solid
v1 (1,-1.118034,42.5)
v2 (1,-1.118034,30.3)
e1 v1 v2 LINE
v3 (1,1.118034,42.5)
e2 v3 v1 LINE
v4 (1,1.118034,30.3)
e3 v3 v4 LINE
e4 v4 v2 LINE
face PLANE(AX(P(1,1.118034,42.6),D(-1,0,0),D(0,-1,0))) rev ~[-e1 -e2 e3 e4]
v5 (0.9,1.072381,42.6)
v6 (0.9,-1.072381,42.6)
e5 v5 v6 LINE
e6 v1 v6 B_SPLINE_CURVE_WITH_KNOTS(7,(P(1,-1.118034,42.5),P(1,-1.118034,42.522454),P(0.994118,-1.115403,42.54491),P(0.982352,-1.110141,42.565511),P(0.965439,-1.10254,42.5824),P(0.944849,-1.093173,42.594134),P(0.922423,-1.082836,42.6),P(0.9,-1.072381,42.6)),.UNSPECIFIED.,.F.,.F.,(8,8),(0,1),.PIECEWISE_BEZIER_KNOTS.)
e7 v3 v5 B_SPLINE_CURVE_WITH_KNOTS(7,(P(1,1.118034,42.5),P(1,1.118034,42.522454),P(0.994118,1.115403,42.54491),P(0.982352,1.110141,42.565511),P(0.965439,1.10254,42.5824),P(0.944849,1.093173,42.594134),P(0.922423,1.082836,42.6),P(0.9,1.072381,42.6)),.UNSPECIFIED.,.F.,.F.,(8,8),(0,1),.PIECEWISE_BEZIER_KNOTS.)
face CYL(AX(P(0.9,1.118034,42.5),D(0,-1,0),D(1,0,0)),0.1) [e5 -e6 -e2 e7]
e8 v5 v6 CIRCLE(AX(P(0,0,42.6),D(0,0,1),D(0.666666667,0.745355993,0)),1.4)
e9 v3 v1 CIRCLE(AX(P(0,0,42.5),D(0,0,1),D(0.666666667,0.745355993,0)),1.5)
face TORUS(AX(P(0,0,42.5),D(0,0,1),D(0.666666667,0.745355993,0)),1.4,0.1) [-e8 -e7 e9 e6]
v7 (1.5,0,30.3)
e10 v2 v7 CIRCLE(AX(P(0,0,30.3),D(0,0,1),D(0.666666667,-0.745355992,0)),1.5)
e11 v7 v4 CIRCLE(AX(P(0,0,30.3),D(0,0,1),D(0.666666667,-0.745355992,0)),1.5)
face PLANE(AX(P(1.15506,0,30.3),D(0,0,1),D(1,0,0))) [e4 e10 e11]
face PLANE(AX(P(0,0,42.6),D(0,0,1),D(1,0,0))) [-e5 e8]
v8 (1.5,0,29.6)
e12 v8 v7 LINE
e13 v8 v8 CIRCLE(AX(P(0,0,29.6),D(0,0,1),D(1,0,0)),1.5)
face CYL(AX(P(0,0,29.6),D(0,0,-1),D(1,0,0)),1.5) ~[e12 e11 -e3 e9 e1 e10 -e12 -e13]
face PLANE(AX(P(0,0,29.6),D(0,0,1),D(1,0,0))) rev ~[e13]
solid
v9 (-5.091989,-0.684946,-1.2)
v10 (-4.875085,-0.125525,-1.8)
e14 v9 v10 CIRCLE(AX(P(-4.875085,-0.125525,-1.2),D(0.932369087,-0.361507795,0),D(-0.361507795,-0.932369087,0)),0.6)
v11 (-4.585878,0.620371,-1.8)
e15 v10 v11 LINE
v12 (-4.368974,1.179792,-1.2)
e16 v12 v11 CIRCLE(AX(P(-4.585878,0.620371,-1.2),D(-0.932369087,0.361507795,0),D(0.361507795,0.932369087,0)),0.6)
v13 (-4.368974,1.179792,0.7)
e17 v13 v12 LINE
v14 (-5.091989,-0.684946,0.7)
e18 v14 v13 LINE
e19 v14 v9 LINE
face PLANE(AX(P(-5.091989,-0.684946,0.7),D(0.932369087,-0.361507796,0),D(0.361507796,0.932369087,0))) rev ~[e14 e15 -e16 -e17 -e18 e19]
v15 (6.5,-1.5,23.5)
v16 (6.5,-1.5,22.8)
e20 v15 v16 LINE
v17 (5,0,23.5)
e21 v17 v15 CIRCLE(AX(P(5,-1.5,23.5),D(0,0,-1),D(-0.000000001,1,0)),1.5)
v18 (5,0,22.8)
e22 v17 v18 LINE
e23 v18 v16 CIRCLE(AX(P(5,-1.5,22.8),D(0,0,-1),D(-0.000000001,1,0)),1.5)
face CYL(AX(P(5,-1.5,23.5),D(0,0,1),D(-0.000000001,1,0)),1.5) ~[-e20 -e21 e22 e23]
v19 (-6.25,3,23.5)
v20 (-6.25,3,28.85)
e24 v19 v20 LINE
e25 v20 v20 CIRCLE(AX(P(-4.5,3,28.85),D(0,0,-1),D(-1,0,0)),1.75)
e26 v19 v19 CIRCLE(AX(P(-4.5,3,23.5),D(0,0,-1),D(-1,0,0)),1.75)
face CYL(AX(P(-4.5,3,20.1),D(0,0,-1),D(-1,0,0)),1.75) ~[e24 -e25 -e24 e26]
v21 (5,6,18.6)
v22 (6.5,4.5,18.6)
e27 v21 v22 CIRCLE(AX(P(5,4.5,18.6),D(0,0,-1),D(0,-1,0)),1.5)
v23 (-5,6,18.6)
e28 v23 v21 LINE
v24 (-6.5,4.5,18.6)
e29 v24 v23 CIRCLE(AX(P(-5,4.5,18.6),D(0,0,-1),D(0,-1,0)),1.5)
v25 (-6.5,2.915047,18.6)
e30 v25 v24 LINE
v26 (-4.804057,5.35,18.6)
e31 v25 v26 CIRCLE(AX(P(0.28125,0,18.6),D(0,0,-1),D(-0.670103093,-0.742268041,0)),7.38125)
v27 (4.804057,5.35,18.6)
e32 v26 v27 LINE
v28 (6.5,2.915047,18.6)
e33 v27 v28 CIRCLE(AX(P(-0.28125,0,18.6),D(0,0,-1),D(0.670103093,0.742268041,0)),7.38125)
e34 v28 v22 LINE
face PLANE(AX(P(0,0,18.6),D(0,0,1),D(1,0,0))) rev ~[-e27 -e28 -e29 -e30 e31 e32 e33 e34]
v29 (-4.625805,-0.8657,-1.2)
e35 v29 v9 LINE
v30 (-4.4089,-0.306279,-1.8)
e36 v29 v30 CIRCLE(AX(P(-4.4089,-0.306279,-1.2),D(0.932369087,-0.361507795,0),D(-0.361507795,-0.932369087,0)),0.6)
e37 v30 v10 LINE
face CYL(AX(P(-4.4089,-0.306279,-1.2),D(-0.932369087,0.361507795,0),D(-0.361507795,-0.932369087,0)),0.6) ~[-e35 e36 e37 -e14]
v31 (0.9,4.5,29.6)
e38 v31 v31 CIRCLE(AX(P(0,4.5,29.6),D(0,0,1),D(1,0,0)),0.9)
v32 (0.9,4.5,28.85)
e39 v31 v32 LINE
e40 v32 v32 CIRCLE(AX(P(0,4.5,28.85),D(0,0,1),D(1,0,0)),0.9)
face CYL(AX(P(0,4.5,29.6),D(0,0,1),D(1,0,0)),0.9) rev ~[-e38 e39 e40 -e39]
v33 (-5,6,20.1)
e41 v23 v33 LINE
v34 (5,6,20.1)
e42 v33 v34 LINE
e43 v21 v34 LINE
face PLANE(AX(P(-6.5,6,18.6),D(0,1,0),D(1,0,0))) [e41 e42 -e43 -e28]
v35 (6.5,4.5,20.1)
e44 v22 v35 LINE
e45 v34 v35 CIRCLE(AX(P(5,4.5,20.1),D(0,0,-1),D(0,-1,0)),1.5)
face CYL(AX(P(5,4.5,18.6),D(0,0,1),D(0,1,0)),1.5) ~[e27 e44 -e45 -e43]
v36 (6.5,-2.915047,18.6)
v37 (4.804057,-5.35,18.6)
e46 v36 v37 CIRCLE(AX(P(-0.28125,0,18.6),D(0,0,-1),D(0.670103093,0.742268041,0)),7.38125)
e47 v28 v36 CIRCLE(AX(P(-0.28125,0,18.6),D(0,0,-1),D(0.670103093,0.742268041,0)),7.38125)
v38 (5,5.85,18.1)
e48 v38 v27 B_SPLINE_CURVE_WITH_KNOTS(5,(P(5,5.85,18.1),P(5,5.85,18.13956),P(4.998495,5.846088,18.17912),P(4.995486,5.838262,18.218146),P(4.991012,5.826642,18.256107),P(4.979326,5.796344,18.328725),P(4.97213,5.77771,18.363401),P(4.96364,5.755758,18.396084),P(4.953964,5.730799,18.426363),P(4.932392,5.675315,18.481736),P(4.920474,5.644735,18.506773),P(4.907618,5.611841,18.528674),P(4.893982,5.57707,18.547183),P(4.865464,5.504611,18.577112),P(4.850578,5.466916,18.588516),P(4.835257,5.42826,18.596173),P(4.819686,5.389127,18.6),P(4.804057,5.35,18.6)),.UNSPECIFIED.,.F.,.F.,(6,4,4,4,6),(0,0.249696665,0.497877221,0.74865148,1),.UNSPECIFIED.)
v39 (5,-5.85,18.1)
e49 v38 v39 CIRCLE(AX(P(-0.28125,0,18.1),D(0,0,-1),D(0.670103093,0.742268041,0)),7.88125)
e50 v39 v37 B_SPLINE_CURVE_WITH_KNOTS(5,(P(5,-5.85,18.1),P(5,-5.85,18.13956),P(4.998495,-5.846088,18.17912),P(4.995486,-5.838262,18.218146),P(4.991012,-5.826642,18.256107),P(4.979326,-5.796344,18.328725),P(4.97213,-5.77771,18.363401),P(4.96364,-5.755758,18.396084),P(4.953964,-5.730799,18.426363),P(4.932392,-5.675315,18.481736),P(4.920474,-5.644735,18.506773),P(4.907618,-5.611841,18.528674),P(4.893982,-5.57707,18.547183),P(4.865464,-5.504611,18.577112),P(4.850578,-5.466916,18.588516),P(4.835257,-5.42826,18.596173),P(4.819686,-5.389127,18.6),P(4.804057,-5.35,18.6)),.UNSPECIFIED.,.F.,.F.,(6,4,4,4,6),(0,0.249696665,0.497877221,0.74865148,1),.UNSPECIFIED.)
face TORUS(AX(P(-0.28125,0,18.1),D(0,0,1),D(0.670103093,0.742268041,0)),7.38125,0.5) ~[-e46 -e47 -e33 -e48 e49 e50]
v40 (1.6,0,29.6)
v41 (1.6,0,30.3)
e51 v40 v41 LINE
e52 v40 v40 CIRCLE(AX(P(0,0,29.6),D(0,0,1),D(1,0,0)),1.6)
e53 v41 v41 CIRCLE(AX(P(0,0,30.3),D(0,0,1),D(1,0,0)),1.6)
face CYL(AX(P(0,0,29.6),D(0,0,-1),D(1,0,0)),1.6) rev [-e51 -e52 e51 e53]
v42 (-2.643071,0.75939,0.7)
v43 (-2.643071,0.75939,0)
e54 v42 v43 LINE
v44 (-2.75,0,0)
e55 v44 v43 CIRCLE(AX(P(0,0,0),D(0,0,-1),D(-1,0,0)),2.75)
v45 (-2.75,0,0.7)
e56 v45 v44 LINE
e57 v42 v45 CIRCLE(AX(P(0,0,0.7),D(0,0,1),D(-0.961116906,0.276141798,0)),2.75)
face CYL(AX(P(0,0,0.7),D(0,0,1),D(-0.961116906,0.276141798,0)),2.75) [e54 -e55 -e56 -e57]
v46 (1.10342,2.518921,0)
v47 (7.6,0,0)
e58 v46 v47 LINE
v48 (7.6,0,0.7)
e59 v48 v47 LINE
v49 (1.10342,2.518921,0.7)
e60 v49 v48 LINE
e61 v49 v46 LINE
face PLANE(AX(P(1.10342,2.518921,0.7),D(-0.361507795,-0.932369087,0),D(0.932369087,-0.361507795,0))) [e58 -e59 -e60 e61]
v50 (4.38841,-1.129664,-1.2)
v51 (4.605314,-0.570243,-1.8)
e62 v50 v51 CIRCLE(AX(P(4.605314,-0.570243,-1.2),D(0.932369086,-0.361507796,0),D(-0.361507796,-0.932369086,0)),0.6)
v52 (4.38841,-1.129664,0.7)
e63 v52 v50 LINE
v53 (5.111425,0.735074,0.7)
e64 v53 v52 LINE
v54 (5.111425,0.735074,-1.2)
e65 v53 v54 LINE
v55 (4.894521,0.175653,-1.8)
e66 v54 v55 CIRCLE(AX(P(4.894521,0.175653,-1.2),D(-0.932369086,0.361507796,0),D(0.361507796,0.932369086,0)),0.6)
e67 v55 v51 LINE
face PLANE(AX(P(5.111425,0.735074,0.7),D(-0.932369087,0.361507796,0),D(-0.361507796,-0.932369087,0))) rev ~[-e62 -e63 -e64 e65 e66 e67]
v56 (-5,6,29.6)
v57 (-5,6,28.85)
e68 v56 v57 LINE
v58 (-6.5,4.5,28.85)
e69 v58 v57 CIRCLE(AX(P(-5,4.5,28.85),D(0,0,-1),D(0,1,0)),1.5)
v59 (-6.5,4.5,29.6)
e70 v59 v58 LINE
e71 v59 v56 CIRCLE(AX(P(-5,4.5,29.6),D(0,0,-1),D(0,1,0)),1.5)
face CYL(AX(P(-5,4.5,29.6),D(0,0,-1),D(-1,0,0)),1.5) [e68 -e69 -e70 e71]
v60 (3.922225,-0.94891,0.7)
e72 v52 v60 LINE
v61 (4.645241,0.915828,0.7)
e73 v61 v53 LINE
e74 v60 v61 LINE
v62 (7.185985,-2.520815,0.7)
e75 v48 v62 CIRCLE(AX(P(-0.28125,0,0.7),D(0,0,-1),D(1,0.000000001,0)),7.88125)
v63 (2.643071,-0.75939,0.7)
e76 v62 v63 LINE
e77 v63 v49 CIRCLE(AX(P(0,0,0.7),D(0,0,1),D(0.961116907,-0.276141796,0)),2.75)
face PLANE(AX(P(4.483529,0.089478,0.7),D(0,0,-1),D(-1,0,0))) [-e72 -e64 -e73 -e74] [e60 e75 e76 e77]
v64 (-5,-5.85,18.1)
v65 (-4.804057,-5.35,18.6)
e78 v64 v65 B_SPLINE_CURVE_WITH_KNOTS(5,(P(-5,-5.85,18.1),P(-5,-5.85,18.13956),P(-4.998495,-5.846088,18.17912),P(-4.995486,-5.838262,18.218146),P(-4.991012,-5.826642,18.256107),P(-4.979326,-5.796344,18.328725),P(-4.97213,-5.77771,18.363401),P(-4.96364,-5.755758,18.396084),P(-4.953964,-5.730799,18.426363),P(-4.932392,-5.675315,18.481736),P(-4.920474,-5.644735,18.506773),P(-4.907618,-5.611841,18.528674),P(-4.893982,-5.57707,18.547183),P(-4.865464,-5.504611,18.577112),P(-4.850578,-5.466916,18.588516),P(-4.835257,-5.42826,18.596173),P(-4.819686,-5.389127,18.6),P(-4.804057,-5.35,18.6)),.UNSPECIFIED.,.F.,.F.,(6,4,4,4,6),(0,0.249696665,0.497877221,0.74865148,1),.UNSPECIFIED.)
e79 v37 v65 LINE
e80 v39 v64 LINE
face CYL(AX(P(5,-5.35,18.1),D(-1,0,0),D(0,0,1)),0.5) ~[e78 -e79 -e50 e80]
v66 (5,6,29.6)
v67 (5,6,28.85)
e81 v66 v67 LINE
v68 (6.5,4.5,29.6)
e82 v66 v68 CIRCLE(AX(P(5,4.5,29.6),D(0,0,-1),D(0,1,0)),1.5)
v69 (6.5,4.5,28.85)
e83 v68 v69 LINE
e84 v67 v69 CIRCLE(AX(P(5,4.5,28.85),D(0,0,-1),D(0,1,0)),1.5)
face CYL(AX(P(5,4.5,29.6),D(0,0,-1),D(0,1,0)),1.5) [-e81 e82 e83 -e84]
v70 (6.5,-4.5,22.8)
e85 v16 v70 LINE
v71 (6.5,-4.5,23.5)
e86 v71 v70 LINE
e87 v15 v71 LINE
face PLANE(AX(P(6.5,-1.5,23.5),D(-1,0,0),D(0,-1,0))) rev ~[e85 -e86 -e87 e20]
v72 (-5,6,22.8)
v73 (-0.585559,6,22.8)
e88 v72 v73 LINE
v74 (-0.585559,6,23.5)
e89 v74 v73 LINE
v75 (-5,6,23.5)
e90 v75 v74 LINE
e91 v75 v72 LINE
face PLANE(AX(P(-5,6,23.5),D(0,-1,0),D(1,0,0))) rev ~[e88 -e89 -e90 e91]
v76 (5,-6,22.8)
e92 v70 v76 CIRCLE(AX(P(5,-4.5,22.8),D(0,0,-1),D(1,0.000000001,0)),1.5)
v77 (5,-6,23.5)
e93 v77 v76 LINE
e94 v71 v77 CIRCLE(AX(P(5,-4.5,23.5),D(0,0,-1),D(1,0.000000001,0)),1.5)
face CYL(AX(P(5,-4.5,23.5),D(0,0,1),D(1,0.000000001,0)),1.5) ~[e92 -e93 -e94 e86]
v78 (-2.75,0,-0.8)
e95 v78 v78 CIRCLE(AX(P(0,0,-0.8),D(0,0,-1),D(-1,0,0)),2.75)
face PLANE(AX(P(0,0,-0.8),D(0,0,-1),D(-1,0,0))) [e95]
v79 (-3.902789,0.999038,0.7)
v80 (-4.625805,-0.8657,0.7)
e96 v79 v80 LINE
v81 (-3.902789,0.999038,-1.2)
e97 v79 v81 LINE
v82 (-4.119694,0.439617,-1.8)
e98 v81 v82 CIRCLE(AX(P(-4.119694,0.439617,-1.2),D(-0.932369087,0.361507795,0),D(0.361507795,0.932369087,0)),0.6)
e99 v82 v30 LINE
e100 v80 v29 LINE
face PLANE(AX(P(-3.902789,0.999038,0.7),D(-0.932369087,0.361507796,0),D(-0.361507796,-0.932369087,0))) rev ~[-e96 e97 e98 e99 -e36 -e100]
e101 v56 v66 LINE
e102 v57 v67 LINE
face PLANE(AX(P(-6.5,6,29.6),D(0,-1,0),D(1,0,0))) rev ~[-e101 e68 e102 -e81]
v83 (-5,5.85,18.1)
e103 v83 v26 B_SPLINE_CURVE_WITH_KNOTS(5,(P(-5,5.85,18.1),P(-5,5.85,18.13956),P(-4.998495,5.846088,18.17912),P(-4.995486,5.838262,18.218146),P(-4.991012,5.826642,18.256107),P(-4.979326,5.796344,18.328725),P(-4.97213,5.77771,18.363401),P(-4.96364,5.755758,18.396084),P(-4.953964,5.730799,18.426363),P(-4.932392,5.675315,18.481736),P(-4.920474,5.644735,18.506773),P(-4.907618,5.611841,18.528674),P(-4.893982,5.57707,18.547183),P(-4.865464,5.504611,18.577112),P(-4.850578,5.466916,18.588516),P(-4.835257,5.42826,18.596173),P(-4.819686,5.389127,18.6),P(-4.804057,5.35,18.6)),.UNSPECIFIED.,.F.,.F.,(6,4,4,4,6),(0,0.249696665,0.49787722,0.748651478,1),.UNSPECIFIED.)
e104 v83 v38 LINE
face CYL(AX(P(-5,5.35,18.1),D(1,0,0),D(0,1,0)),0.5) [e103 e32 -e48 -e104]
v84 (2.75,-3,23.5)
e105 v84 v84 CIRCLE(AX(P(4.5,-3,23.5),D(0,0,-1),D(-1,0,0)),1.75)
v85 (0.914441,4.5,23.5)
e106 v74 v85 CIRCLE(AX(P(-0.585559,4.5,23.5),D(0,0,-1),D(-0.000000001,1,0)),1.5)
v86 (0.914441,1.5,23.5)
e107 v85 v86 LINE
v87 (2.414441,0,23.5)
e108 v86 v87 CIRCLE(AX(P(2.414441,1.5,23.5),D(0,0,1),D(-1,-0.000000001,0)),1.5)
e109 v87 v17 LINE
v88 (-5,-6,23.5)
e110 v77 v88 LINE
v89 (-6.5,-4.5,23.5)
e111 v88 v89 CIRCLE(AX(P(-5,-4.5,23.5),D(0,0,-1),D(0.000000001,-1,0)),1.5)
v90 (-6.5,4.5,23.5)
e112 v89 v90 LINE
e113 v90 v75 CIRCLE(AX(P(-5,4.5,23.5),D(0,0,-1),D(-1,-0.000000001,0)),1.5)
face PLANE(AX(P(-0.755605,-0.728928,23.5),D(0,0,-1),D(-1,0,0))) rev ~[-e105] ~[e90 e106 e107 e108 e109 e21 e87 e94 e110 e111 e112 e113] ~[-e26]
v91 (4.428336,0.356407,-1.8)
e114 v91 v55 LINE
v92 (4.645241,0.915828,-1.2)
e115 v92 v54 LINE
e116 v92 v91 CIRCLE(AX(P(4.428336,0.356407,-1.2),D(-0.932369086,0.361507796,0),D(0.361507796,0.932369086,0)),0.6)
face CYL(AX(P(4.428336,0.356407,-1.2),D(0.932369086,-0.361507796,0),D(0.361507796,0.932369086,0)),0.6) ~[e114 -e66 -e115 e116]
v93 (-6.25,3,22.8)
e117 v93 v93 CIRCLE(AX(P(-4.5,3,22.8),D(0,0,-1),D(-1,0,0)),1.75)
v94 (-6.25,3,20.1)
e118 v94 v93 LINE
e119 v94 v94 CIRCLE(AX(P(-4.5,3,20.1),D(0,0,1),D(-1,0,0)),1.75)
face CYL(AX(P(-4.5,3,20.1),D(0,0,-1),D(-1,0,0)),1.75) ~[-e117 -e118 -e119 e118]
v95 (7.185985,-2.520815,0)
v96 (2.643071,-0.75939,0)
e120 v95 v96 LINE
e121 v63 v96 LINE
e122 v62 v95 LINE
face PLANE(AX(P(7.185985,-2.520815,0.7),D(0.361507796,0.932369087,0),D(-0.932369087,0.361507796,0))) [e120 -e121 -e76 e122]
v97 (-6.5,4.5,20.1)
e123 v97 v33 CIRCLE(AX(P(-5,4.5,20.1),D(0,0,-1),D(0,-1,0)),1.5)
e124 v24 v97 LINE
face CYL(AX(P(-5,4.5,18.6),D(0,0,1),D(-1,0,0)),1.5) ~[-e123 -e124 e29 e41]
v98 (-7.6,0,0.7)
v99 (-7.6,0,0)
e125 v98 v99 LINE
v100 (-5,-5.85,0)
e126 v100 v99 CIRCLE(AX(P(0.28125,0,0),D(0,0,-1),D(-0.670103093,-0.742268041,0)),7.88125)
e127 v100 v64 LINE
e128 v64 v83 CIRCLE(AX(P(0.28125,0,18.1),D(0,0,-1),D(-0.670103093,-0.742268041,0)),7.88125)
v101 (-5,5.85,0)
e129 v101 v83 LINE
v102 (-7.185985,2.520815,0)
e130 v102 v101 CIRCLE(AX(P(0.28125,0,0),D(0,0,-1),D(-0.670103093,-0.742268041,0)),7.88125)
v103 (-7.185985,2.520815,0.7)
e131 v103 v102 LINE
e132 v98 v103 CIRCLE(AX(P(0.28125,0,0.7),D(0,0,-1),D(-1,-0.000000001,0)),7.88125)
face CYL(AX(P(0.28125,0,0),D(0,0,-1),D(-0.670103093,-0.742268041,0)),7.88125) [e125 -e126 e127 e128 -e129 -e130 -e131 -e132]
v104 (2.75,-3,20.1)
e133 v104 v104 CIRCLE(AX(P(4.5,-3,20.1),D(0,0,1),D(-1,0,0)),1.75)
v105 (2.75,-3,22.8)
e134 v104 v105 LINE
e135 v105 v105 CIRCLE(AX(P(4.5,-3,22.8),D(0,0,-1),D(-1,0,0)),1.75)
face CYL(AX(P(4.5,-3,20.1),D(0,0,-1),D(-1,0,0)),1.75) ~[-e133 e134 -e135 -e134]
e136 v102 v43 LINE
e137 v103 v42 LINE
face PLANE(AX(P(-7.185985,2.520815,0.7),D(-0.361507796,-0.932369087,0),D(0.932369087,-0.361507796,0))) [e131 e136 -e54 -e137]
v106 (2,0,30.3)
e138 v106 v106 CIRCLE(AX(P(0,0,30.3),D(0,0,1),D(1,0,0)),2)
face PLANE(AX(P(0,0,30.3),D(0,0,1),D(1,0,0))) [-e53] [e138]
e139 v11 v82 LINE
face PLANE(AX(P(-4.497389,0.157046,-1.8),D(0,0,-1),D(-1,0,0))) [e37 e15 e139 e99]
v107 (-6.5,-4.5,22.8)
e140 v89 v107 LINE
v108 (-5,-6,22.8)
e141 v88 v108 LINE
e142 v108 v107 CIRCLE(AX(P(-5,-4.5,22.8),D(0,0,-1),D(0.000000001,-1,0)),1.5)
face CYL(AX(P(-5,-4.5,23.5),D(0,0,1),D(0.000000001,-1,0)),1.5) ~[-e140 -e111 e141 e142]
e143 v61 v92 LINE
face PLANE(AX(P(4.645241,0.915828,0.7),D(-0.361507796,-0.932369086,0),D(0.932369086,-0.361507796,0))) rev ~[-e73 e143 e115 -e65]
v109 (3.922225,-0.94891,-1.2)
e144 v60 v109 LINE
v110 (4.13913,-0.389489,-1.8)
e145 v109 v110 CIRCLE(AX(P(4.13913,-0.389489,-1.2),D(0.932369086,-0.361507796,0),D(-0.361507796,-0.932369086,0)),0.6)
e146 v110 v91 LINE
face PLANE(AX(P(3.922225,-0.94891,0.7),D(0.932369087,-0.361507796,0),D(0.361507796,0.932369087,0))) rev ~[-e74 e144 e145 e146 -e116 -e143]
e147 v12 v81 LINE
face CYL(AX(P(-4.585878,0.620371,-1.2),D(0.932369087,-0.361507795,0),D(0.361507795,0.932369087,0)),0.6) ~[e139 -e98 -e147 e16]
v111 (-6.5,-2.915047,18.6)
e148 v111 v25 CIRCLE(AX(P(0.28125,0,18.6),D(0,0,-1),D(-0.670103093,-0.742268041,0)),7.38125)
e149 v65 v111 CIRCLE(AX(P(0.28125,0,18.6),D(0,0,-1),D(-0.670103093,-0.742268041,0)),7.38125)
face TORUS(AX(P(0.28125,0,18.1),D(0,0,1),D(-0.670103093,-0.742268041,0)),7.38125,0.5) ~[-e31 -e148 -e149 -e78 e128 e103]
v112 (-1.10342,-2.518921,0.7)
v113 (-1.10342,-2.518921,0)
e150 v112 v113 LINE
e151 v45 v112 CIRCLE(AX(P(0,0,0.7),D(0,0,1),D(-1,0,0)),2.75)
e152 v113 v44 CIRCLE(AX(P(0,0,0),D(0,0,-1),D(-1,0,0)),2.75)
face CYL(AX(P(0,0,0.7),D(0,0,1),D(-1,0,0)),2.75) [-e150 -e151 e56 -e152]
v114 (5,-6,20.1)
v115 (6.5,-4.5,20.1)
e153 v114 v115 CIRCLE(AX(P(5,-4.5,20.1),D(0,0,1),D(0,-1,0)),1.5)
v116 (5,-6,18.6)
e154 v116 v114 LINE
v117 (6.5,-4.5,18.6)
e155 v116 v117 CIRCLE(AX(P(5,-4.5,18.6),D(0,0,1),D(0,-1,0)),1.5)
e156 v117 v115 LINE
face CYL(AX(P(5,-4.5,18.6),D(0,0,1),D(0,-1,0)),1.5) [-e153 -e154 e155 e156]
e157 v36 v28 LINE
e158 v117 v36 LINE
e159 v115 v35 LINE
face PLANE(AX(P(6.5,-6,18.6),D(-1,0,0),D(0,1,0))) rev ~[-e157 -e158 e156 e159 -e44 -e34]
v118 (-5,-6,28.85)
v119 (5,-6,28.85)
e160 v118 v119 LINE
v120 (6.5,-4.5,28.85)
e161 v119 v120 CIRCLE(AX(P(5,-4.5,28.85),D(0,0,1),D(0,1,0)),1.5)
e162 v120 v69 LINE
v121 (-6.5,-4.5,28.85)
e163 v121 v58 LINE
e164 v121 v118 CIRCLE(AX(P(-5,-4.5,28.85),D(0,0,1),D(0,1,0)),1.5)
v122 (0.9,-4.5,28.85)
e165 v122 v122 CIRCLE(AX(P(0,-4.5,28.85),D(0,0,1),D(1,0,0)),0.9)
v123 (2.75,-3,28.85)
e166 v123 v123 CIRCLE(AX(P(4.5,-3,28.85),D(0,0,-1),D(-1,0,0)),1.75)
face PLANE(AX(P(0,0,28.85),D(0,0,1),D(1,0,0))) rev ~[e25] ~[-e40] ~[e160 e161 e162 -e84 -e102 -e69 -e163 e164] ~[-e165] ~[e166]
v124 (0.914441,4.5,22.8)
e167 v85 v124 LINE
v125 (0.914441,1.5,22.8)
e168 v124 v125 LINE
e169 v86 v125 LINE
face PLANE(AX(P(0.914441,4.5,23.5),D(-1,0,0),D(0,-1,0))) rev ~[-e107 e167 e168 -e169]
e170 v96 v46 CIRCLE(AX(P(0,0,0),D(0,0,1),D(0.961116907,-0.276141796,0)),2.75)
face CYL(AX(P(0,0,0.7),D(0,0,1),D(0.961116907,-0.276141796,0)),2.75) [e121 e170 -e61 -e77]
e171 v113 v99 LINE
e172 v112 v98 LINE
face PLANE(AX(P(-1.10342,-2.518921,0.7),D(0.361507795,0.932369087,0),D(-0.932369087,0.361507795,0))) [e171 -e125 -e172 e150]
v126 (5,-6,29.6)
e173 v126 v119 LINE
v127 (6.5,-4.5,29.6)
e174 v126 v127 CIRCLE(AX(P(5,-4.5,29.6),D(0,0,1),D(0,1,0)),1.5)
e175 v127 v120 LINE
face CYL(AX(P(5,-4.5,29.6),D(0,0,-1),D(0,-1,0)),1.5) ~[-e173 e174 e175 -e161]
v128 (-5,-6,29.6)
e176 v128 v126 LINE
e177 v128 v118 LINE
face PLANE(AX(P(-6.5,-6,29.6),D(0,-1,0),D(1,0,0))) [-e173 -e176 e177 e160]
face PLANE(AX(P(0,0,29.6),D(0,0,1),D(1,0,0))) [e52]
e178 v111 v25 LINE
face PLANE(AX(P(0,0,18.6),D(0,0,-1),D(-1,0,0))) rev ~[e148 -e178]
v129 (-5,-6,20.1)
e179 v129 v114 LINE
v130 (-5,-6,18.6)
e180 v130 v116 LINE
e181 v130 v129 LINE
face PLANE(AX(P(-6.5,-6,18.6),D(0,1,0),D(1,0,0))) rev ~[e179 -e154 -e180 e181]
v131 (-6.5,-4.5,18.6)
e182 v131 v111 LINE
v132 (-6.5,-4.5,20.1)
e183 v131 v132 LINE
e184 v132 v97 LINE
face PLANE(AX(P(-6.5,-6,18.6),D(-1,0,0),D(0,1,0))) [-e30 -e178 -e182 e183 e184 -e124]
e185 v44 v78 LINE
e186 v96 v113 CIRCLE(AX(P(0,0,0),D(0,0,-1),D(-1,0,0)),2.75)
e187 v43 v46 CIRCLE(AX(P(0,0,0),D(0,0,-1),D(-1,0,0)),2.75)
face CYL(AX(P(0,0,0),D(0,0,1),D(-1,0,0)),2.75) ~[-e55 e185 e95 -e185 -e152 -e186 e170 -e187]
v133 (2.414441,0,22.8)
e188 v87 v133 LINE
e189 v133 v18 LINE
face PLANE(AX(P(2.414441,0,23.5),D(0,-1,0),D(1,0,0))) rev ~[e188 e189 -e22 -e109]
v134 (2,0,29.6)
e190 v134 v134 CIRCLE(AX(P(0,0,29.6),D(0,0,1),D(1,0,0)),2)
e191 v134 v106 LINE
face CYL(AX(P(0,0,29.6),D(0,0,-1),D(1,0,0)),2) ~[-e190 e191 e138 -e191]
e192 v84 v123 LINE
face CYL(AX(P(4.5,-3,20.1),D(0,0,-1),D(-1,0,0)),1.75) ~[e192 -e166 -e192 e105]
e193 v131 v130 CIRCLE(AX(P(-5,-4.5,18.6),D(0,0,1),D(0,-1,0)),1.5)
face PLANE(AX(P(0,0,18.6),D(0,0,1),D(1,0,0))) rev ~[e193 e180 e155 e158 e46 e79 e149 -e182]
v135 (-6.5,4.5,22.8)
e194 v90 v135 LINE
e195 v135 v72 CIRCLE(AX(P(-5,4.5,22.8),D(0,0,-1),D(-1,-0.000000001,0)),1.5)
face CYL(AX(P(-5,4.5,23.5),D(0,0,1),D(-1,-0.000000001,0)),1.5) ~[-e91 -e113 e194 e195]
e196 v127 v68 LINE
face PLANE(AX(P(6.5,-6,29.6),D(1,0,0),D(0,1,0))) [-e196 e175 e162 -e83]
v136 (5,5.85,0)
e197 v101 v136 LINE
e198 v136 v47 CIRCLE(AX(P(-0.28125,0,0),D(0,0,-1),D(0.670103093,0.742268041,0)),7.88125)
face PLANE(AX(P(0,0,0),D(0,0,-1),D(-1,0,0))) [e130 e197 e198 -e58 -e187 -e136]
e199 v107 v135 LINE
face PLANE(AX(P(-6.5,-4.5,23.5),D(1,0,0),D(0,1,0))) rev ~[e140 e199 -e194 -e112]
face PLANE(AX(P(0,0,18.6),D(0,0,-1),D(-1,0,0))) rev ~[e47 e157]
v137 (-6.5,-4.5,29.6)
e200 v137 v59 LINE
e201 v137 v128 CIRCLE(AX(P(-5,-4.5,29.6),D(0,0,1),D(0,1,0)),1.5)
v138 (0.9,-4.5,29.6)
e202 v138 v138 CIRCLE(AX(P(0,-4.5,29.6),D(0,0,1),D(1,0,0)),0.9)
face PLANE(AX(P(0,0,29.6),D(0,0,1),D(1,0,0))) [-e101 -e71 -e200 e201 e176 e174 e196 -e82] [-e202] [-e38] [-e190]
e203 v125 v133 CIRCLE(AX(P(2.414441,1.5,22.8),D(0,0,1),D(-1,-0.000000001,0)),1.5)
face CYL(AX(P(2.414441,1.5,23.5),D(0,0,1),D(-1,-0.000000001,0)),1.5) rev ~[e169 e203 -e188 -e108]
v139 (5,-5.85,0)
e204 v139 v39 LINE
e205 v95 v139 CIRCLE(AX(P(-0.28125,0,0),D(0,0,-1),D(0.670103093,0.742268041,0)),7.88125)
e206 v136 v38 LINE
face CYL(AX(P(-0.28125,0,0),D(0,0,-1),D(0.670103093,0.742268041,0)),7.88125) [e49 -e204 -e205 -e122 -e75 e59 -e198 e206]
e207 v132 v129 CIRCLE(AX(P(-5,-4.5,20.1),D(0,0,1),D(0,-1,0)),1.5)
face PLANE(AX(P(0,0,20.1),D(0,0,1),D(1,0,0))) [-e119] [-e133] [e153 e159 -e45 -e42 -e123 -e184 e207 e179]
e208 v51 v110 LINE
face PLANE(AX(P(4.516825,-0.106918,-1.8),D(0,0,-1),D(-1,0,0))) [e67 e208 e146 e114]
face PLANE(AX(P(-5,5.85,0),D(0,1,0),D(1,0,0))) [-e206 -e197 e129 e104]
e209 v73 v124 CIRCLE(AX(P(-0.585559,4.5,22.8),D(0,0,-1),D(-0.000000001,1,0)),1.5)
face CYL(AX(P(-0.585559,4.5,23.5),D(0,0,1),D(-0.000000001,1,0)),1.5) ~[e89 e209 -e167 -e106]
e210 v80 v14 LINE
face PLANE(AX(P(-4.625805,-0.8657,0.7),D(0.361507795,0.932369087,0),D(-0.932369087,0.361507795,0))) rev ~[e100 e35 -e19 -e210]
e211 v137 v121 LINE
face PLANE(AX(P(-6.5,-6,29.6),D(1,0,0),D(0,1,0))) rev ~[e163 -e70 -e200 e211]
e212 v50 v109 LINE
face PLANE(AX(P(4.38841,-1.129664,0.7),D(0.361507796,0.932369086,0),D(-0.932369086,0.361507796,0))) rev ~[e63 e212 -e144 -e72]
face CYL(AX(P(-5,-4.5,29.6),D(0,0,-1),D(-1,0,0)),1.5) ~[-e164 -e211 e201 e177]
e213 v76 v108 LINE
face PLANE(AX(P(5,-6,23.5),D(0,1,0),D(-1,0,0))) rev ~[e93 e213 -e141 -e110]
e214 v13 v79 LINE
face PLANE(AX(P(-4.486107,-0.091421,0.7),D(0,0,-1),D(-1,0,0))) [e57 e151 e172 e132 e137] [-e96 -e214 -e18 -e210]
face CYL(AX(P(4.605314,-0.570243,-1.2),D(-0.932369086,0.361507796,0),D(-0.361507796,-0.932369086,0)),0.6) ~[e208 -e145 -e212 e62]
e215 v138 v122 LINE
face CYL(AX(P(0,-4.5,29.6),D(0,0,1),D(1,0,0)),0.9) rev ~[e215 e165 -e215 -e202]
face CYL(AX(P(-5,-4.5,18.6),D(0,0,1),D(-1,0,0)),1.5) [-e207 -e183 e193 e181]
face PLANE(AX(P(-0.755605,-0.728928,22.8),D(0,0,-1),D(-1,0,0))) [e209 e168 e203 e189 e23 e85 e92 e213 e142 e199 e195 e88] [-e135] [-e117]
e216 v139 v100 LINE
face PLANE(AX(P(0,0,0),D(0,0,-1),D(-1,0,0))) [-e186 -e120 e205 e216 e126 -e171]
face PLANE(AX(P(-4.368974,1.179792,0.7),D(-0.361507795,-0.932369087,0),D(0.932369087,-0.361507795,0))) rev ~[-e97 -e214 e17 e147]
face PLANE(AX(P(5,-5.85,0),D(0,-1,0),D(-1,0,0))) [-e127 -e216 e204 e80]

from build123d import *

# Parameters (mm, degrees)
MOTOR_DEPTH            = 18.6
SKETCH2_R              = 2.75
BOSS_EXTRUDE2_DEPTH    = 0.8
FILLET1_R              = 0.5
SKETCH3_W              = 13
SKETCH3_H              = 12
REDUCTOR_BASE_DEPTH    = 1.5
SKETCH4_R              = 1.75
REDUCTOR_SUPPORT_DEPTH = 9.5
SKETCH5_W              = 13
SKETCH5_H              = 12
REDUCTOR_CEIL_DEPTH    = 0.75
FILLET2_R              = 1.5
SKETCH6_R              = 2
SKETCH6_R_2            = 1.6
SHAFT_RING_DEPTH       = 0.7
SKETCH7_R              = 1.5
SHAFT_DEPTH            = 13
SHAFT_D_TRIM_DEPTH     = 12.3
SKETCH9_R              = 0.9
MOUNT_HOLE_DEPTH       = 0.75
CUT_EXTRUDE8_START     = -0.7
CUT_EXTRUDE8_DEPTH     = 0.7
PINS_DEPTH             = 2.5
FILLET4_R              = 0.6
FILLET5_R              = 0.1
BOSS_EXTRUDE11_DEPTH   = 0.7


with BuildPart() as part:
    # Sketch1 → Motor (new body)
    with BuildSketch(Plane.XY):
        with BuildLine():
            Line((-5, 5.85), (5, 5.85))
            ThreePointArc((5, 5.85), (7.6, 0), (5, -5.85))
            Line((5, -5.85), (-5, -5.85))
            ThreePointArc((-5, -5.85), (-7.6, 0), (-5, 5.85))
        make_face()
    extrude(amount=MOTOR_DEPTH)

    # Sketch2 → Boss-Extrude2 (add)
    with BuildSketch(Plane(origin=(0, 0, 0), x_dir=(-1, 0, 0), z_dir=(0, 0, -1))):
        Circle(SKETCH2_R)
    extrude(amount=BOSS_EXTRUDE2_DEPTH)

    # Fillet1
    fillet1_edges = [part.edges().sort_by_distance(p)[0] for p in [
        (7.6, 0, 18.6),
        (0, 5.85, 18.6),
        (-7.6, 0, 18.6),
        (0, -5.85, 18.6),
    ]]
    fillet(fillet1_edges, radius=FILLET1_R)

    # Sketch3 → reductor_base (add)
    with BuildSketch(Plane.XY.offset(18.6)):
        Rectangle(SKETCH3_W, SKETCH3_H)
    extrude(amount=REDUCTOR_BASE_DEPTH)

    # Sketch4 → reductor_support (add)
    with BuildSketch(Plane.XY.offset(20.1)):
        with Locations(Location((-4.5, 3, 0), (0, 0, 180))):
            Circle(SKETCH4_R)
        with Locations(Location((4.5, -3, 0), (0, 0, 180))):
            Circle(SKETCH4_R)
    extrude(amount=REDUCTOR_SUPPORT_DEPTH)

    # Sketch5 → reductor_ceil (add)
    with BuildSketch(Plane.XY.offset(29.6)):
        Rectangle(SKETCH5_W, SKETCH5_H)
    extrude(amount=-REDUCTOR_CEIL_DEPTH)

    # Fillet2
    fillet2_edges = [part.edges().sort_by_distance(p)[0] for p in [
        (6.5, -6, 19.35),
        (6.5, 6, 19.35),
        (-6.5, 6, 19.35),
        (-6.5, -6, 19.35),
        (-6.5, -6, 29.225),
        (-6.5, 6, 29.225),
        (6.5, 6, 29.225),
        (6.5, -6, 29.225),
    ]]
    fillet(fillet2_edges, radius=FILLET2_R)

    # Sketch6 → shaft_ring (add)
    with BuildSketch(Plane.XY.offset(29.6)):
        Circle(SKETCH6_R)
        Circle(SKETCH6_R_2, mode=Mode.SUBTRACT)
    extrude(amount=SHAFT_RING_DEPTH)

    # Sketch9 → mount_hole (cut)
    with BuildSketch(Plane.XY.offset(29.6)):
        with Locations((0, 4.5)):
            Circle(SKETCH9_R)
        with Locations((0, -4.5)):
            Circle(SKETCH9_R)
    extrude(amount=-MOUNT_HOLE_DEPTH, mode=Mode.SUBTRACT)

    # Sketch12 → Cut-Extrude8 (cut)
    with BuildSketch(Plane(origin=(0, 0, 0), x_dir=(-1, 0, 0), z_dir=(0, 0, -1)).offset(CUT_EXTRUDE8_START)):
        with BuildLine():
            ThreePointArc((-2.643071494, -0.759389938), (-2.489152604, 1.169024943), (-1.103419984, 2.518921266))
            Line((-1.103419984, 2.518921265), (-7.6, 0))
            ThreePointArc((-7.6, 0), (-7.495807414, -1.277293839), (-7.185984571, -2.520815231))
            Line((-7.185984571, -2.520815231), (-2.643071494, -0.759389938))
        make_face()
        with BuildLine():
            ThreePointArc((7.6, 0), (7.495807414, 1.277293839), (7.185984571, 2.520815231))
            Line((7.185984571, 2.520815231), (2.643071494, 0.759389938))
            ThreePointArc((2.643071494, 0.759389938), (2.723136667, 0.383440603), (2.75, 0))
            ThreePointArc((2.75, 0), (2.301836762, -1.504675222), (1.103419984, -2.518921266))
            Line((1.103419984, -2.518921265), (7.6, 0))
        make_face()
    extrude(amount=CUT_EXTRUDE8_DEPTH, mode=Mode.SUBTRACT)

    # Sketch13 → pins (add)
    with BuildSketch(Plane(origin=(0, 0, 0.7), x_dir=(-1, 0, 0), z_dir=(0, 0, -1))):
        Polygon((3.902789088, 0.999038213), (4.625804679, -0.86569996), (5.091989223, -0.684946062), (4.368973632, 1.179792111), align=None)
        Polygon((-5.111425378, 0.735074083), (-4.388409787, -1.12966409), (-3.922225244, -0.948910192), (-4.645240835, 0.915827981), align=None)
    extrude(amount=PINS_DEPTH)

    # Fillet4
    fillet4_edges = [part.edges().sort_by_distance(p)[0] for p in [
        (-4.13588136, 1.089415162, -1.8),
        (-4.858896951, -0.775323011, -1.8),
        (4.878333106, 0.825451032, -1.8),
        (4.155317515, -1.039287141, -1.8),
    ]]
    fillet(fillet4_edges, radius=FILLET4_R)

    # Sketch15 → Boss-Extrude11 (add)
    with BuildSketch(Plane.XY.offset(23.5)):
        with BuildLine():
            Line((0.914441288, 4.5), (0.914441288, 1.5))
            ThreePointArc((0.914441288, 1.5), (1.353781117, 0.439339828), (2.414441288, 0))
            Line((2.414441288, 0), (5, 0))
            ThreePointArc((5, 0), (6.060660172, -0.439339828), (6.5, -1.5))
            Line((6.5, -1.5), (6.5, -4.5))
            ThreePointArc((6.5, -4.5), (6.060660172, -5.560660172), (5, -6))
            Line((5, -6), (-5, -6))
            ThreePointArc((-5, -6), (-6.060660172, -5.560660172), (-6.5, -4.5))
            Line((-6.5, -4.5), (-6.5, 4.5))
            ThreePointArc((-6.5, 4.5), (-6.060660172, 5.560660172), (-5, 6))
            Line((-5, 6), (-0.585558712, 6))
            ThreePointArc((-0.585558712, 6), (0.47510146, 5.560660172), (0.914441288, 4.5))
        make_face()
    extrude(amount=-BOSS_EXTRUDE11_DEPTH)


with BuildPart() as body_2:
    # Sketch7 → shaft (new body)
    with BuildSketch(Plane.XY.offset(29.6)):
        Circle(SKETCH7_R)
    extrude(amount=SHAFT_DEPTH)

    # Sketch8 → shaft_D_trim (cut)
    with BuildSketch(Plane.XY.offset(42.6)):
        with BuildLine():
            Line((1, 1.118033989), (1, -1.118033989))
            ThreePointArc((1, -1.118033989), (1.5, 0), (1, 1.118033989))
        make_face()
    extrude(amount=-SHAFT_D_TRIM_DEPTH, mode=Mode.SUBTRACT)

    # Fillet5
    fillet5_edges = [body_2.edges().sort_by_distance(p)[0] for p in [
        (-1.5, 0, 42.6),
        (1, 0, 42.6),
    ]]
    fillet(fillet5_edges, radius=FILLET5_R)


solid = Compound([part.part, body_2.part])
